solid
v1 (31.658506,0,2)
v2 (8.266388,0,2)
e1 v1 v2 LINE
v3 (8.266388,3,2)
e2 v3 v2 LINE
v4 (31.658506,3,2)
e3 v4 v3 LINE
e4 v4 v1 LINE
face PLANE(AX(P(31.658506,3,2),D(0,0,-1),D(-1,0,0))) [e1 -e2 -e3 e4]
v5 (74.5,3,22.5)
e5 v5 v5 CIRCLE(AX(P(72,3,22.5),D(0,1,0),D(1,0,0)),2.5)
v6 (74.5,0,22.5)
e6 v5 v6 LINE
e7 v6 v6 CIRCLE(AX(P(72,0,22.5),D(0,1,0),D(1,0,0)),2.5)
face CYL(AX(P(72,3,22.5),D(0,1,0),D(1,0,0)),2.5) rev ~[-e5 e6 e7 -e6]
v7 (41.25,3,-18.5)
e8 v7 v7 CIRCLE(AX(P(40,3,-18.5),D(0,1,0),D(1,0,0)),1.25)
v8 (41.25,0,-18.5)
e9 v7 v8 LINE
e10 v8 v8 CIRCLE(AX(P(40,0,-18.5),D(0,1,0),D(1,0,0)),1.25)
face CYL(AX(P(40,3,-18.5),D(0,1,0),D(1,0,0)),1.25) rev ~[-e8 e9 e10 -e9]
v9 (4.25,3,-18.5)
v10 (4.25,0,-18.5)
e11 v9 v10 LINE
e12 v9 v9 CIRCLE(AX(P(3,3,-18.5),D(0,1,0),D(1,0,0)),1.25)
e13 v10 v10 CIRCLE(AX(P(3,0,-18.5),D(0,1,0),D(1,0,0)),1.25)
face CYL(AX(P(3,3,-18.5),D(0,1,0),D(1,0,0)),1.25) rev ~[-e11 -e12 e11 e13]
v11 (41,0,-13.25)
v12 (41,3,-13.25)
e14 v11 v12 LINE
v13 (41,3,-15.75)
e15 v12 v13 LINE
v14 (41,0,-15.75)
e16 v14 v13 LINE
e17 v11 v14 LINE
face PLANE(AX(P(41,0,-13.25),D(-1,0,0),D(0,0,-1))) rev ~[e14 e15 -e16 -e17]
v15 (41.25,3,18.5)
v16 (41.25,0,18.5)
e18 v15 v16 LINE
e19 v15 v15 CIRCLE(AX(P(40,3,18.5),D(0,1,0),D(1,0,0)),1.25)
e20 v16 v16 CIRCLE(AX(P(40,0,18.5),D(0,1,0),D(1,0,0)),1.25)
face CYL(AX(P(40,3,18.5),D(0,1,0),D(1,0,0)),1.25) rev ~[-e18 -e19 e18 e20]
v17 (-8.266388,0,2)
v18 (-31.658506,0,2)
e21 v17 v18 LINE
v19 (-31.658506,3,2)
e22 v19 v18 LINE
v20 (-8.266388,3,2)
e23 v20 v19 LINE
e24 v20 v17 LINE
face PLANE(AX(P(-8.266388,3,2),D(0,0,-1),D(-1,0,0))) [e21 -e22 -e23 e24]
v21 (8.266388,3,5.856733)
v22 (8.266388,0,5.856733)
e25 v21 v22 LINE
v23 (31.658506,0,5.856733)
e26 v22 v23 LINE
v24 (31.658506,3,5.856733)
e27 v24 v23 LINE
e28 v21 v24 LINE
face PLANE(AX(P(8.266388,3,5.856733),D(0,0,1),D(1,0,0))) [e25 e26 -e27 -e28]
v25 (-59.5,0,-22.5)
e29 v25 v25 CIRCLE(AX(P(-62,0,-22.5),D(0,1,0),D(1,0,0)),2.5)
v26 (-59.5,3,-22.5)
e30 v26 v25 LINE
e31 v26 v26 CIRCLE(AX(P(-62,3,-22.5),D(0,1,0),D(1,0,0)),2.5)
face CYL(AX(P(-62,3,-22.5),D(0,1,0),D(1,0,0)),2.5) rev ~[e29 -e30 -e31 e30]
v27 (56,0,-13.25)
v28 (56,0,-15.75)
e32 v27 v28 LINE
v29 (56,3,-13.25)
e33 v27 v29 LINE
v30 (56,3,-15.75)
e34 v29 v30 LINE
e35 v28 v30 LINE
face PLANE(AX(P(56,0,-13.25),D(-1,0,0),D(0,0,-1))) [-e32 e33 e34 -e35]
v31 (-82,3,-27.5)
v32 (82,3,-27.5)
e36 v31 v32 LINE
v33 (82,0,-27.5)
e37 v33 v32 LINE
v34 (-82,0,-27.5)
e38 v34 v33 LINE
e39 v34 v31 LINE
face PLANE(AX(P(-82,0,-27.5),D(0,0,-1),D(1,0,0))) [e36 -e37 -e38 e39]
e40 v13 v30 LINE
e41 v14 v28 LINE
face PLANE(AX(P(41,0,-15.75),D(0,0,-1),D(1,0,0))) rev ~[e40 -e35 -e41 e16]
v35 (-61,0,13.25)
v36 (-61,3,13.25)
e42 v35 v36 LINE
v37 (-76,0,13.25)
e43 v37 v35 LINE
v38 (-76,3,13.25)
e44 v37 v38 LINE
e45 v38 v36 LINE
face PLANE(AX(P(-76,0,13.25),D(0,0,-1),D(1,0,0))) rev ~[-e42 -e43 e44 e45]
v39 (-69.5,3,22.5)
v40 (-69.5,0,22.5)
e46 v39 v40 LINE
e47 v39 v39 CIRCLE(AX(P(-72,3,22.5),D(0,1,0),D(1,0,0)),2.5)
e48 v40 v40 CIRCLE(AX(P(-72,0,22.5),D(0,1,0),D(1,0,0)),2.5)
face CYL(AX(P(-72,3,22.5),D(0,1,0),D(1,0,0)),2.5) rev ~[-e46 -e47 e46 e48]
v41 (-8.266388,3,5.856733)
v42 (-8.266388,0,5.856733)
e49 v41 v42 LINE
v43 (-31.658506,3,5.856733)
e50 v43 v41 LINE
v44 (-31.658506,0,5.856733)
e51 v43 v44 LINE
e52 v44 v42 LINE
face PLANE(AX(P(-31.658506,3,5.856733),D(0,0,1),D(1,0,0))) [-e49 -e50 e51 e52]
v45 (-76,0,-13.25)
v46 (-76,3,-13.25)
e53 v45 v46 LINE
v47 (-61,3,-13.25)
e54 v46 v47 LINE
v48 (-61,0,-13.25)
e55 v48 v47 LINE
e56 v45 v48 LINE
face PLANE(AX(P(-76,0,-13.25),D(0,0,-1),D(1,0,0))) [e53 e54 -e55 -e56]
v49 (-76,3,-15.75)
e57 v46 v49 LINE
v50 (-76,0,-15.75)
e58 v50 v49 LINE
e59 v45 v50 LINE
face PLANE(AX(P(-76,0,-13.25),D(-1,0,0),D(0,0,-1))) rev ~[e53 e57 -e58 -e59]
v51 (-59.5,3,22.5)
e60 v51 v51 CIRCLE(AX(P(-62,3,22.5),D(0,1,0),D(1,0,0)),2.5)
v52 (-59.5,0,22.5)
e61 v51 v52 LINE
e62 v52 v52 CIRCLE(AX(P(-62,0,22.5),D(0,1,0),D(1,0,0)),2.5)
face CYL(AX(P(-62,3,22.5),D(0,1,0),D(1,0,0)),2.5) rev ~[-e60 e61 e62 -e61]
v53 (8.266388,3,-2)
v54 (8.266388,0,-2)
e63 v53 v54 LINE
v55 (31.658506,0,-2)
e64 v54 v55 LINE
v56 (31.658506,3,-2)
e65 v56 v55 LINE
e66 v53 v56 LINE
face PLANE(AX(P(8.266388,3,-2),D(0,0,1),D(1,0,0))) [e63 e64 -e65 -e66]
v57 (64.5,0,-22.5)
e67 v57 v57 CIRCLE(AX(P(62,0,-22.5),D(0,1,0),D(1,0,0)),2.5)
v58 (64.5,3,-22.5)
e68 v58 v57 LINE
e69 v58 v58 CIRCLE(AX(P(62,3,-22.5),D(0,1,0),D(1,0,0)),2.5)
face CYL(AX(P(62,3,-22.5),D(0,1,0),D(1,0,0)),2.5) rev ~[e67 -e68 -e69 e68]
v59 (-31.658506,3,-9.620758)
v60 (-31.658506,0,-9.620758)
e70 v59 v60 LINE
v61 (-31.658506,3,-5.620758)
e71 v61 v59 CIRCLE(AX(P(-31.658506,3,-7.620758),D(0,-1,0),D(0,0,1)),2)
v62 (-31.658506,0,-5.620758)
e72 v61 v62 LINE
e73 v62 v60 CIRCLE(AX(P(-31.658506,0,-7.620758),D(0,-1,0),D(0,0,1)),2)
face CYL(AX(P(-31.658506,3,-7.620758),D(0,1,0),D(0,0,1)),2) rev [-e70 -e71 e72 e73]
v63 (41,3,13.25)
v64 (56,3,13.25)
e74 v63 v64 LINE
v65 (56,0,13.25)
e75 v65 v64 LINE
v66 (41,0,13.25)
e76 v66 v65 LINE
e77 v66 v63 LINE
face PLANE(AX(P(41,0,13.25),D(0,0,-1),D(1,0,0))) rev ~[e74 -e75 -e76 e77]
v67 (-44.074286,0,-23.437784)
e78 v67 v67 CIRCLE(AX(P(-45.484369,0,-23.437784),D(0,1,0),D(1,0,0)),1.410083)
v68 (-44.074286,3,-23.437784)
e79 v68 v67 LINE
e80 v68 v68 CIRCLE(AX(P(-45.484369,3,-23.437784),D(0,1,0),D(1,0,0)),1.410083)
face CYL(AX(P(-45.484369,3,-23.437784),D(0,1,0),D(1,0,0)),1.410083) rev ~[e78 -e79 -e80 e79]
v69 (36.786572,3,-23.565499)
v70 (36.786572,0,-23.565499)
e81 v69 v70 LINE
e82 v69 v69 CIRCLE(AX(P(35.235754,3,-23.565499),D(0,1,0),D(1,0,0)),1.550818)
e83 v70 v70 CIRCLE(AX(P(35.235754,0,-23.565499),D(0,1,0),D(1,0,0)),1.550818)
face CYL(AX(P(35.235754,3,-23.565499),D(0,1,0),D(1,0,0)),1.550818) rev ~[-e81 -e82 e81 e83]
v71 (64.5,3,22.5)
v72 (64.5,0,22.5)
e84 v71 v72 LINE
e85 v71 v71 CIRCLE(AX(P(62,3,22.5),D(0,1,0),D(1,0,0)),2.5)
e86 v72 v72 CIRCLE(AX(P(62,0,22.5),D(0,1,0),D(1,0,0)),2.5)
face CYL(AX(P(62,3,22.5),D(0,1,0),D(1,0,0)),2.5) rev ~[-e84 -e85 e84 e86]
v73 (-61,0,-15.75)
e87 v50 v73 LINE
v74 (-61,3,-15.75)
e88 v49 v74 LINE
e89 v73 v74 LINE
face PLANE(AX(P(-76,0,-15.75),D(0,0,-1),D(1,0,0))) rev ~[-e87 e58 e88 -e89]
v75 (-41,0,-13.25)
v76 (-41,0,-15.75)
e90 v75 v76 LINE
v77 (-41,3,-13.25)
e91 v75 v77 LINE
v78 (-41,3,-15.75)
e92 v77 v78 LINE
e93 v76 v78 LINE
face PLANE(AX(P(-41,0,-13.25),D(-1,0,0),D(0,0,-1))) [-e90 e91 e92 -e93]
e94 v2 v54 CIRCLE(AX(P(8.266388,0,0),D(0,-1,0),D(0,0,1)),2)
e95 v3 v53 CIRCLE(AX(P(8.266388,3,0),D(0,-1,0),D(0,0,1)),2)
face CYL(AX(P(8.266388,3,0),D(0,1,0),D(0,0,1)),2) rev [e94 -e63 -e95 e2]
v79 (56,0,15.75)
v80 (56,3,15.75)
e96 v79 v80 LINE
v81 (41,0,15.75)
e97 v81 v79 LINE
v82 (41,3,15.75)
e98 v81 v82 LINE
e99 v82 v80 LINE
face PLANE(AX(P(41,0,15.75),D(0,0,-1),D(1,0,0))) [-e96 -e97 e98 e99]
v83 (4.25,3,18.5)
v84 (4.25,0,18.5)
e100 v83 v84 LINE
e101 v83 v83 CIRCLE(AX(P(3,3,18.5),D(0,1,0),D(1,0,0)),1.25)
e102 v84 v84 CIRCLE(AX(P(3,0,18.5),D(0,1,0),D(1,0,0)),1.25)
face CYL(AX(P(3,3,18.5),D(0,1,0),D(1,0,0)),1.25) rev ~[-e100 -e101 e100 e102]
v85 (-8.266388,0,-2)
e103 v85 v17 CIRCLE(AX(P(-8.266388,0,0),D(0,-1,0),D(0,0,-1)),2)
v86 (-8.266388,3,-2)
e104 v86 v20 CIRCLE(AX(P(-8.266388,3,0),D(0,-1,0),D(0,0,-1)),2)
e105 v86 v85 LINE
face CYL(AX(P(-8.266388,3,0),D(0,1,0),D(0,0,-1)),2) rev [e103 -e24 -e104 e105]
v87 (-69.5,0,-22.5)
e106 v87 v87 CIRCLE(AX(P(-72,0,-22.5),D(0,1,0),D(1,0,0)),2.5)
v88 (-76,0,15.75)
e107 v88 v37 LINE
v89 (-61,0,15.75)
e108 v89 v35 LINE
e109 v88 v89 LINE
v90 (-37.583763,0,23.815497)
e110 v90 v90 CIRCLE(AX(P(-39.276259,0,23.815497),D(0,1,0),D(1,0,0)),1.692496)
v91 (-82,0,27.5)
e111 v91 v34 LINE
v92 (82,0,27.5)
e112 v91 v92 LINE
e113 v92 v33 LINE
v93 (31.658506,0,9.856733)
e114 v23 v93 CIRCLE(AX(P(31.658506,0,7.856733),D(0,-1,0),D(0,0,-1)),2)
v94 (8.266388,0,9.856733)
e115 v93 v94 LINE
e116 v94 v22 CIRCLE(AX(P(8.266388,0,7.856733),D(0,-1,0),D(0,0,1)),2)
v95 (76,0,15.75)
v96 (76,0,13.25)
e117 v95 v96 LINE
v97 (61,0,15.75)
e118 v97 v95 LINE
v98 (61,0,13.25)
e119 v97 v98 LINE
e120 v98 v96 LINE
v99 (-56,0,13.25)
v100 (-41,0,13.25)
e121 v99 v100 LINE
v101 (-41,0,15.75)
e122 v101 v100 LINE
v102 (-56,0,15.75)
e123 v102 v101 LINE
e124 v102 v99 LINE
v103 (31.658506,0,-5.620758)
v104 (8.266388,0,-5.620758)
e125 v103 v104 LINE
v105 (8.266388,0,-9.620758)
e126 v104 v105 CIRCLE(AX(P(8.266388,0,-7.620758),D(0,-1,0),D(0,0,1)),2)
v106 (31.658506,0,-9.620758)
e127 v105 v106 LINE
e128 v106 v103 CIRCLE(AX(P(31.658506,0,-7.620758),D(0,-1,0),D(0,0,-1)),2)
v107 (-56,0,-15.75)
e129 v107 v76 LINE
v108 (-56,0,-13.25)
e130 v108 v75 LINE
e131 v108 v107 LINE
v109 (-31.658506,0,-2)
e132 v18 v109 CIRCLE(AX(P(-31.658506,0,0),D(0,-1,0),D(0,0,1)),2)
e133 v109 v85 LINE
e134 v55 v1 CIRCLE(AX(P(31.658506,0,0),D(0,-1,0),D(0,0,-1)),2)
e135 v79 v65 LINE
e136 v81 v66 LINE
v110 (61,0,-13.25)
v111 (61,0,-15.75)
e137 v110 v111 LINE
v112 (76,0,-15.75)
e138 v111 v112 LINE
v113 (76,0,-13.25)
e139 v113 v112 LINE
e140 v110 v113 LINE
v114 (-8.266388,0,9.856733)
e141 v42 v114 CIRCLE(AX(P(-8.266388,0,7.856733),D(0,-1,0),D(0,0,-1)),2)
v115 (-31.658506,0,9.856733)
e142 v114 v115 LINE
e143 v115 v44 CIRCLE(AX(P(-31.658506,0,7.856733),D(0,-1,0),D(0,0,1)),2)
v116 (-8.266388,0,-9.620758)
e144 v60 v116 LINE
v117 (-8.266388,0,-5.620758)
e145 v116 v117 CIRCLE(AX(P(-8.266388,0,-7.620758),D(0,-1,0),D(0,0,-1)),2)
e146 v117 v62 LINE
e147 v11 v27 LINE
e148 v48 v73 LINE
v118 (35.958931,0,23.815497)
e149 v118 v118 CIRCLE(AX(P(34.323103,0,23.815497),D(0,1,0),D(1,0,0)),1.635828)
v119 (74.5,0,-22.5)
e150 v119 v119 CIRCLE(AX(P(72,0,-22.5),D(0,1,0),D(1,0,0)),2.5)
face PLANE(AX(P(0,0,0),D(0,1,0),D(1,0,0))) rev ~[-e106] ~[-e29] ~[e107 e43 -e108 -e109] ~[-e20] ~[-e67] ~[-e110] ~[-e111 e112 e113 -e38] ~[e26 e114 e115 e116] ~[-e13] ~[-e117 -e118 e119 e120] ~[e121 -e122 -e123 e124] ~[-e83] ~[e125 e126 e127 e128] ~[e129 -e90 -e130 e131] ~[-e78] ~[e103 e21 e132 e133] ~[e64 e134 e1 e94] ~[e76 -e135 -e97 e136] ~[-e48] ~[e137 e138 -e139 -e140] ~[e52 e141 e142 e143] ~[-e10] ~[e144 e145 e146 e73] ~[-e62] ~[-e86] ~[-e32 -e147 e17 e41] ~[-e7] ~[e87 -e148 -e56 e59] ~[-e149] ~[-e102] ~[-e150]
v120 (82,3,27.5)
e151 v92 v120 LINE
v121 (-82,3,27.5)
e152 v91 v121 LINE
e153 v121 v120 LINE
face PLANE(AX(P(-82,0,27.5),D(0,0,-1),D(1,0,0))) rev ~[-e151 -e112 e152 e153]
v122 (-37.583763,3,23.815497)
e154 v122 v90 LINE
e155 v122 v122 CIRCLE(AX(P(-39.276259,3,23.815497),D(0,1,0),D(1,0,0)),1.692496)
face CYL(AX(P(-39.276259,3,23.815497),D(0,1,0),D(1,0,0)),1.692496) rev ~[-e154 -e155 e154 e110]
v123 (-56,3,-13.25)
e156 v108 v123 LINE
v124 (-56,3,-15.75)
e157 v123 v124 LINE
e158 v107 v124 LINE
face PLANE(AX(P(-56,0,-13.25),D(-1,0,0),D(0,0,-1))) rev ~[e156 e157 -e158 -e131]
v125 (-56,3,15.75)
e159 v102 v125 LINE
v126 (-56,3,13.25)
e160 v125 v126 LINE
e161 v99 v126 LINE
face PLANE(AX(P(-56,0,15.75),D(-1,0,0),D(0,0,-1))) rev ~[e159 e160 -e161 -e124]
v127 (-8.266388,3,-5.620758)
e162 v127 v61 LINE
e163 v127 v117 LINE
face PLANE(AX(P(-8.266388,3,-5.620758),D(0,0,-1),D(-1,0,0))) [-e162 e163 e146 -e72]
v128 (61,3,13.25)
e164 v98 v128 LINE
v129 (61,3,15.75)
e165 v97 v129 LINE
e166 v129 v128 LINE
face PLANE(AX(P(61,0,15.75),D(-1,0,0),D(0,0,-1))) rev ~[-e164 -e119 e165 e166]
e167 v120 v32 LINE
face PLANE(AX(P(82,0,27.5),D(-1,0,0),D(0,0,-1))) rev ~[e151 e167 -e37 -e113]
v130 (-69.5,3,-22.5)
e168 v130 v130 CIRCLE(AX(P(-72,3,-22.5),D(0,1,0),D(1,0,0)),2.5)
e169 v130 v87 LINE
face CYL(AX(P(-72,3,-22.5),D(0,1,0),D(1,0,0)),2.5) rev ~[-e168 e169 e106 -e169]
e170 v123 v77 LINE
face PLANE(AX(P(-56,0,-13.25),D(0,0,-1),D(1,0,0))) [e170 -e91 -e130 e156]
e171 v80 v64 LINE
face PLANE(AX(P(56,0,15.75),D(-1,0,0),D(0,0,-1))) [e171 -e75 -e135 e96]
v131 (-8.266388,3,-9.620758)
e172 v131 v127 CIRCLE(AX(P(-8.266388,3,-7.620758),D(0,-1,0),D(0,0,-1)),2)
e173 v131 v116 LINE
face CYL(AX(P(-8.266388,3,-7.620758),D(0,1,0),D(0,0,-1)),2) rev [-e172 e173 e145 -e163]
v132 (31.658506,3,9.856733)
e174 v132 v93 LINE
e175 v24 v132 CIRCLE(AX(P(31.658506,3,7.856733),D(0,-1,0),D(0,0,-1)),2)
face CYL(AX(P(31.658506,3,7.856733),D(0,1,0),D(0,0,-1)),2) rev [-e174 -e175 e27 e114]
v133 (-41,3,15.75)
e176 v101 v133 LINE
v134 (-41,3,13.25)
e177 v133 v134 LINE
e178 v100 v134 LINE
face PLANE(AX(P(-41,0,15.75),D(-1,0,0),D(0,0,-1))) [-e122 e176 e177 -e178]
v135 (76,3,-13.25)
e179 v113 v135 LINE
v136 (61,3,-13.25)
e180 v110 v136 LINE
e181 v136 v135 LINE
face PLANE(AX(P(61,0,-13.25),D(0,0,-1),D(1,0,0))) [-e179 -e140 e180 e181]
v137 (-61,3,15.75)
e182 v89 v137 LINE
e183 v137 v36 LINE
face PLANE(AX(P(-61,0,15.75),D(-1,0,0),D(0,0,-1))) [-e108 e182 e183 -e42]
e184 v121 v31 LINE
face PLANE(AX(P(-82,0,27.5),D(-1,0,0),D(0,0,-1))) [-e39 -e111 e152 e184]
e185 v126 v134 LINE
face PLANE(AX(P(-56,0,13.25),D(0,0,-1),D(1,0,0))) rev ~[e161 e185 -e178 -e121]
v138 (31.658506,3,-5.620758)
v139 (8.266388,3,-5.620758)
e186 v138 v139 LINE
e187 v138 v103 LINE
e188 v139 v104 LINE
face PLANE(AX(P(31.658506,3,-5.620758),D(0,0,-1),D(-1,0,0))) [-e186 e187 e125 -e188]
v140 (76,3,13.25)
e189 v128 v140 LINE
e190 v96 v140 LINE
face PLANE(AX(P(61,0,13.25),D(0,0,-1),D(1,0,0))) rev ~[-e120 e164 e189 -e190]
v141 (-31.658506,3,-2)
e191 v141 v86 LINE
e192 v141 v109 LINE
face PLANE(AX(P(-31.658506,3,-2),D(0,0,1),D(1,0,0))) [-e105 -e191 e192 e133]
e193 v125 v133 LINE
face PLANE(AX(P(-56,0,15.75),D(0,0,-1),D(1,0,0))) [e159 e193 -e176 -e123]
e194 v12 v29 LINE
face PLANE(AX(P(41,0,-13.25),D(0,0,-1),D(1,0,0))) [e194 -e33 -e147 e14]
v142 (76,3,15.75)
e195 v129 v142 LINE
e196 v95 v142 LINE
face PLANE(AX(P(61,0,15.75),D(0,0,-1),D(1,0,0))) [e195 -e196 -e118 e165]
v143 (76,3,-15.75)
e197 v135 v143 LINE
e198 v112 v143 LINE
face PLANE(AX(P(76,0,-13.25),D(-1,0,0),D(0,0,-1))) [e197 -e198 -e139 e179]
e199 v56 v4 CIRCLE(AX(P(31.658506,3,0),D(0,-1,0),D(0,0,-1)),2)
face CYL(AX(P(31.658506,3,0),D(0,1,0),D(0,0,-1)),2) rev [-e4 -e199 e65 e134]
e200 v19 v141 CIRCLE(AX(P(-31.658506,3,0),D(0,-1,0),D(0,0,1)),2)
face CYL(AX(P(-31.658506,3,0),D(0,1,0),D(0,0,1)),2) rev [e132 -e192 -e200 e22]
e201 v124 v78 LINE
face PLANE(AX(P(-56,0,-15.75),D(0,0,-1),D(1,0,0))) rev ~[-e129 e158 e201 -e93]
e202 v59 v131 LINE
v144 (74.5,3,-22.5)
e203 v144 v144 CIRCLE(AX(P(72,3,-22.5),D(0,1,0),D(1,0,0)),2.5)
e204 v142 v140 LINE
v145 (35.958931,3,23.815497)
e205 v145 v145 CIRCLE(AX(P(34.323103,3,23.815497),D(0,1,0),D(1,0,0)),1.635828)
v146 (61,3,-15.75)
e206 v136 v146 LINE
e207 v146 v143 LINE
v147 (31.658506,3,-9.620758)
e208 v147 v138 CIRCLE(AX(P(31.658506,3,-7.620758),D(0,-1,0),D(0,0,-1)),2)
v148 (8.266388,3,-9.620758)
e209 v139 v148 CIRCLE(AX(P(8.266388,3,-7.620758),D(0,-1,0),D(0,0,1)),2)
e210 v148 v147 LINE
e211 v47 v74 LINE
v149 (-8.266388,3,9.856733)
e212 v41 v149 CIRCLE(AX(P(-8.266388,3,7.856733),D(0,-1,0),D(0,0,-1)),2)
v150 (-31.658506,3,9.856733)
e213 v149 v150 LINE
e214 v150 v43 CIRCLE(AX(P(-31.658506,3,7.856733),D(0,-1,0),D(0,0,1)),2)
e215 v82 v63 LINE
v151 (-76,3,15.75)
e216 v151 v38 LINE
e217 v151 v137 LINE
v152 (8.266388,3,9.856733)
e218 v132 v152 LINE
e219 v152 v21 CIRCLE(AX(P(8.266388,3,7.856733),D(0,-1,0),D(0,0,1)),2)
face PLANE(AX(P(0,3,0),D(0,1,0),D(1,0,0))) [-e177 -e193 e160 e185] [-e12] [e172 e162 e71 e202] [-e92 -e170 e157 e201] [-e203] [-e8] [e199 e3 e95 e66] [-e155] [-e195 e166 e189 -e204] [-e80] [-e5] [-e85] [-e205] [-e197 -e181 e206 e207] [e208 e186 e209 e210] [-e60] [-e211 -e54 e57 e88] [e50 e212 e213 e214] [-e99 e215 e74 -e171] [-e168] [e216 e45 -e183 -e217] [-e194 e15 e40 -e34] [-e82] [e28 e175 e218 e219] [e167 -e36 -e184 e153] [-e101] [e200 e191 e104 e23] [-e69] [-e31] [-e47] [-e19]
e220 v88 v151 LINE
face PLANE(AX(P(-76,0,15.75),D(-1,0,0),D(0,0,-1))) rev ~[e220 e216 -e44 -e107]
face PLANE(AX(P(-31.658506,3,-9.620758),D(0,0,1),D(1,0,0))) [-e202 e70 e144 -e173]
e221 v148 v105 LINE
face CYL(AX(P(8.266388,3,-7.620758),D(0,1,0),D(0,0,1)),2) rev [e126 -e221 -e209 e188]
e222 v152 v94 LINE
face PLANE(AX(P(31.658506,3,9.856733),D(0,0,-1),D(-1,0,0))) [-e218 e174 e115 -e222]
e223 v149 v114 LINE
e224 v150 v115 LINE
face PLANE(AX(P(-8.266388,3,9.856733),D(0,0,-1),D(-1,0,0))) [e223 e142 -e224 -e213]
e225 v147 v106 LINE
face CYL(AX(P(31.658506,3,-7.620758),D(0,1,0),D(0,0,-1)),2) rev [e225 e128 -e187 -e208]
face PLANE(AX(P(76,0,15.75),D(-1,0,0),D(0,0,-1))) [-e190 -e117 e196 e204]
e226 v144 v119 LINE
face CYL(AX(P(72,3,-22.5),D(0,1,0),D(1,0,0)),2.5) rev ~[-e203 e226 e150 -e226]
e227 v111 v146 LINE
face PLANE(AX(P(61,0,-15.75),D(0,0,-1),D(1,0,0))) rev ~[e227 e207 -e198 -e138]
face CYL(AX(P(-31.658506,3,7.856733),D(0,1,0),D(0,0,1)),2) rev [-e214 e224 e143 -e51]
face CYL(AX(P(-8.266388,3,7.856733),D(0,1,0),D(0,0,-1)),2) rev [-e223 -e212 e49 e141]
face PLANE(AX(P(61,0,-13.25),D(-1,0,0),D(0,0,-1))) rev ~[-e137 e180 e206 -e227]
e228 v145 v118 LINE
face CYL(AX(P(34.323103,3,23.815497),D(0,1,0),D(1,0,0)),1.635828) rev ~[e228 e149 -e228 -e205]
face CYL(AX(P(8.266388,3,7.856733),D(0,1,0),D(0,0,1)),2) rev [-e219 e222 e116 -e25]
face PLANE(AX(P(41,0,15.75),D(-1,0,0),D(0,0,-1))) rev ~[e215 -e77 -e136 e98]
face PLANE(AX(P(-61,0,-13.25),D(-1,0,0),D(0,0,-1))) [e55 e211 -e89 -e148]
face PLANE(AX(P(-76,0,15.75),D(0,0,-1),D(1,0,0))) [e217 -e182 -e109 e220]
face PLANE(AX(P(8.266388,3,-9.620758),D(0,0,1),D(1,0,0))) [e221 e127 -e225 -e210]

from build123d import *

# Parameters (mm, degrees)
SKETCH1_W           = 164
SKETCH1_H           = 55
SKETCH1_W_2         = 15
SKETCH1_H_2         = 2.5
BOSS_EXTRUDE1_DEPTH = 3
CUT_EXTRUDE1_DEPTH  = 3
SKETCH3_R           = 1.25
CUT_EXTRUDE2_DEPTH  = 10
SKETCH4_R           = 2.5
CUT_EXTRUDE3_DEPTH  = 4
SKETCH5_R           = 1.63582752
SKETCH5_R_2         = 1.550817753
SKETCH5_R_3         = 1.410083192
SKETCH5_R_4         = 1.692495787
CUT_EXTRUDE4_DEPTH  = 4


with BuildPart() as part:
    # Sketch1 → Boss-Extrude1 (new body)
    with BuildSketch(Plane(origin=(0, 0, 0), x_dir=(1, 0, 0), z_dir=(0, 1, 0))):
        Rectangle(SKETCH1_W, SKETCH1_H)
        with Locations((48.5, 14.5)):
            Rectangle(SKETCH1_W_2, SKETCH1_H_2, mode=Mode.SUBTRACT)
        with Locations((68.5, 14.5)):
            Rectangle(SKETCH1_W_2, SKETCH1_H_2, mode=Mode.SUBTRACT)
        with Locations((68.5, -14.5)):
            Rectangle(SKETCH1_W_2, SKETCH1_H_2, mode=Mode.SUBTRACT)
        with Locations((48.5, -14.5)):
            Rectangle(SKETCH1_W_2, SKETCH1_H_2, mode=Mode.SUBTRACT)
        with Locations((-48.5, -14.5)):
            Rectangle(SKETCH1_W_2, SKETCH1_H_2, mode=Mode.SUBTRACT)
        with Locations((-68.5, -14.5)):
            Rectangle(SKETCH1_W_2, SKETCH1_H_2, mode=Mode.SUBTRACT)
        with Locations((-68.5, 14.5)):
            Rectangle(SKETCH1_W_2, SKETCH1_H_2, mode=Mode.SUBTRACT)
        with Locations((-48.5, 14.5)):
            Rectangle(SKETCH1_W_2, SKETCH1_H_2, mode=Mode.SUBTRACT)
    extrude(amount=BOSS_EXTRUDE1_DEPTH)

    # Sketch2 → Cut-Extrude1 (cut)
    with BuildSketch(Plane(origin=(0, 3, 0), x_dir=(1, 0, 0), z_dir=(0, 1, 0))):
        with BuildLine():
            Line((-31.658505885, 2), (-8.266387648, 2))
            ThreePointArc((-8.266387648, 2), (-6.266387648, 0), (-8.266387648, -2))
            Line((-8.266387648, -2), (-31.658505885, -2))
            ThreePointArc((-31.658505885, -2), (-33.658505885, 0), (-31.658505885, 2))
        make_face()
        with BuildLine():
            Line((31.658505885, -9.856733432), (8.266387648, -9.856733432))
            ThreePointArc((8.266387648, -9.856733432), (6.266387648, -7.856733432), (8.266387648, -5.856733432))
            Line((8.266387648, -5.856733432), (31.658505885, -5.856733432))
            ThreePointArc((31.658505885, -5.856733432), (33.658505885, -7.856733432), (31.658505885, -9.856733432))
        make_face()
        with BuildLine():
            Line((-31.658505885, 9.620758334), (-8.266387648, 9.620758334))
            ThreePointArc((-8.266387648, 9.620758334), (-6.266387648, 7.620758334), (-8.266387648, 5.620758334))
            Line((-8.266387648, 5.620758334), (-31.658505885, 5.620758334))
            ThreePointArc((-31.658505885, 5.620758334), (-33.658505885, 7.620758334), (-31.658505885, 9.620758334))
        make_face()
        with BuildLine():
            Line((31.658505885, 5.620758334), (8.266387648, 5.620758334))
            ThreePointArc((8.266387648, 5.620758334), (6.266387648, 7.620758334), (8.266387648, 9.620758334))
            Line((8.266387648, 9.620758334), (31.658505885, 9.620758334))
            ThreePointArc((31.658505885, 9.620758334), (33.658505885, 7.620758334), (31.658505885, 5.620758334))
        make_face()
        with BuildLine():
            Line((-31.658505885, -5.856733432), (-8.266387648, -5.856733432))
            ThreePointArc((-8.266387648, -5.856733432), (-6.266387648, -7.856733432), (-8.266387648, -9.856733432))
            Line((-8.266387648, -9.856733432), (-31.658505885, -9.856733432))
            ThreePointArc((-31.658505885, -9.856733432), (-33.658505885, -7.856733432), (-31.658505885, -5.856733432))
        make_face()
        with BuildLine():
            Line((31.658505885, -2), (8.266387648, -2))
            ThreePointArc((8.266387648, -2), (6.266387648, 0), (8.266387648, 2))
            Line((8.266387648, 2), (31.658505885, 2))
            ThreePointArc((31.658505885, 2), (33.658505885, 0), (31.658505885, -2))
        make_face()
    extrude(amount=-CUT_EXTRUDE1_DEPTH, mode=Mode.SUBTRACT)

    # Sketch3 → Cut-Extrude2 (cut)
    with BuildSketch(Plane(origin=(0, 3, 0), x_dir=(1, 0, 0), z_dir=(0, 1, 0))):
        with Locations((40, 18.5)):
            Circle(SKETCH3_R)
        with Locations((40, -18.5)):
            Circle(SKETCH3_R)
        with Locations((3, -18.5)):
            Circle(SKETCH3_R)
        with Locations((3, 18.5)):
            Circle(SKETCH3_R)
    extrude(amount=-CUT_EXTRUDE2_DEPTH, mode=Mode.SUBTRACT)

    # Sketch4 → Cut-Extrude3 (cut, through all)
    with BuildSketch(Plane(origin=(0, 3, 0), x_dir=(1, 0, 0), z_dir=(0, 1, 0))):
        with Locations((72, -22.5)):
            Circle(SKETCH4_R)
        with Locations((62, -22.5)):
            Circle(SKETCH4_R)
        with Locations((72, 22.5)):
            Circle(SKETCH4_R)
        with Locations((62, 22.5)):
            Circle(SKETCH4_R)
        with Locations((-72, 22.5)):
            Circle(SKETCH4_R)
        with Locations((-62, 22.5)):
            Circle(SKETCH4_R)
        with Locations((-72, -22.5)):
            Circle(SKETCH4_R)
        with Locations((-62, -22.5)):
            Circle(SKETCH4_R)
    extrude(amount=-CUT_EXTRUDE3_DEPTH, mode=Mode.SUBTRACT)

    # Sketch5 → Cut-Extrude4 (cut, through all)
    with BuildSketch(Plane(origin=(0, 3, 0), x_dir=(1, 0, 0), z_dir=(0, 1, 0))):
        with Locations((34.323103301, -23.81549711)):
            Circle(SKETCH5_R)
        with Locations((35.235754497, 23.565498985)):
            Circle(SKETCH5_R_2)
        with Locations((-45.484369153, 23.437784188)):
            Circle(SKETCH5_R_3)
        with Locations((-39.276258797, -23.81549711)):
            Circle(SKETCH5_R_4)
    extrude(amount=-CUT_EXTRUDE4_DEPTH, mode=Mode.SUBTRACT)


solid = part.part
